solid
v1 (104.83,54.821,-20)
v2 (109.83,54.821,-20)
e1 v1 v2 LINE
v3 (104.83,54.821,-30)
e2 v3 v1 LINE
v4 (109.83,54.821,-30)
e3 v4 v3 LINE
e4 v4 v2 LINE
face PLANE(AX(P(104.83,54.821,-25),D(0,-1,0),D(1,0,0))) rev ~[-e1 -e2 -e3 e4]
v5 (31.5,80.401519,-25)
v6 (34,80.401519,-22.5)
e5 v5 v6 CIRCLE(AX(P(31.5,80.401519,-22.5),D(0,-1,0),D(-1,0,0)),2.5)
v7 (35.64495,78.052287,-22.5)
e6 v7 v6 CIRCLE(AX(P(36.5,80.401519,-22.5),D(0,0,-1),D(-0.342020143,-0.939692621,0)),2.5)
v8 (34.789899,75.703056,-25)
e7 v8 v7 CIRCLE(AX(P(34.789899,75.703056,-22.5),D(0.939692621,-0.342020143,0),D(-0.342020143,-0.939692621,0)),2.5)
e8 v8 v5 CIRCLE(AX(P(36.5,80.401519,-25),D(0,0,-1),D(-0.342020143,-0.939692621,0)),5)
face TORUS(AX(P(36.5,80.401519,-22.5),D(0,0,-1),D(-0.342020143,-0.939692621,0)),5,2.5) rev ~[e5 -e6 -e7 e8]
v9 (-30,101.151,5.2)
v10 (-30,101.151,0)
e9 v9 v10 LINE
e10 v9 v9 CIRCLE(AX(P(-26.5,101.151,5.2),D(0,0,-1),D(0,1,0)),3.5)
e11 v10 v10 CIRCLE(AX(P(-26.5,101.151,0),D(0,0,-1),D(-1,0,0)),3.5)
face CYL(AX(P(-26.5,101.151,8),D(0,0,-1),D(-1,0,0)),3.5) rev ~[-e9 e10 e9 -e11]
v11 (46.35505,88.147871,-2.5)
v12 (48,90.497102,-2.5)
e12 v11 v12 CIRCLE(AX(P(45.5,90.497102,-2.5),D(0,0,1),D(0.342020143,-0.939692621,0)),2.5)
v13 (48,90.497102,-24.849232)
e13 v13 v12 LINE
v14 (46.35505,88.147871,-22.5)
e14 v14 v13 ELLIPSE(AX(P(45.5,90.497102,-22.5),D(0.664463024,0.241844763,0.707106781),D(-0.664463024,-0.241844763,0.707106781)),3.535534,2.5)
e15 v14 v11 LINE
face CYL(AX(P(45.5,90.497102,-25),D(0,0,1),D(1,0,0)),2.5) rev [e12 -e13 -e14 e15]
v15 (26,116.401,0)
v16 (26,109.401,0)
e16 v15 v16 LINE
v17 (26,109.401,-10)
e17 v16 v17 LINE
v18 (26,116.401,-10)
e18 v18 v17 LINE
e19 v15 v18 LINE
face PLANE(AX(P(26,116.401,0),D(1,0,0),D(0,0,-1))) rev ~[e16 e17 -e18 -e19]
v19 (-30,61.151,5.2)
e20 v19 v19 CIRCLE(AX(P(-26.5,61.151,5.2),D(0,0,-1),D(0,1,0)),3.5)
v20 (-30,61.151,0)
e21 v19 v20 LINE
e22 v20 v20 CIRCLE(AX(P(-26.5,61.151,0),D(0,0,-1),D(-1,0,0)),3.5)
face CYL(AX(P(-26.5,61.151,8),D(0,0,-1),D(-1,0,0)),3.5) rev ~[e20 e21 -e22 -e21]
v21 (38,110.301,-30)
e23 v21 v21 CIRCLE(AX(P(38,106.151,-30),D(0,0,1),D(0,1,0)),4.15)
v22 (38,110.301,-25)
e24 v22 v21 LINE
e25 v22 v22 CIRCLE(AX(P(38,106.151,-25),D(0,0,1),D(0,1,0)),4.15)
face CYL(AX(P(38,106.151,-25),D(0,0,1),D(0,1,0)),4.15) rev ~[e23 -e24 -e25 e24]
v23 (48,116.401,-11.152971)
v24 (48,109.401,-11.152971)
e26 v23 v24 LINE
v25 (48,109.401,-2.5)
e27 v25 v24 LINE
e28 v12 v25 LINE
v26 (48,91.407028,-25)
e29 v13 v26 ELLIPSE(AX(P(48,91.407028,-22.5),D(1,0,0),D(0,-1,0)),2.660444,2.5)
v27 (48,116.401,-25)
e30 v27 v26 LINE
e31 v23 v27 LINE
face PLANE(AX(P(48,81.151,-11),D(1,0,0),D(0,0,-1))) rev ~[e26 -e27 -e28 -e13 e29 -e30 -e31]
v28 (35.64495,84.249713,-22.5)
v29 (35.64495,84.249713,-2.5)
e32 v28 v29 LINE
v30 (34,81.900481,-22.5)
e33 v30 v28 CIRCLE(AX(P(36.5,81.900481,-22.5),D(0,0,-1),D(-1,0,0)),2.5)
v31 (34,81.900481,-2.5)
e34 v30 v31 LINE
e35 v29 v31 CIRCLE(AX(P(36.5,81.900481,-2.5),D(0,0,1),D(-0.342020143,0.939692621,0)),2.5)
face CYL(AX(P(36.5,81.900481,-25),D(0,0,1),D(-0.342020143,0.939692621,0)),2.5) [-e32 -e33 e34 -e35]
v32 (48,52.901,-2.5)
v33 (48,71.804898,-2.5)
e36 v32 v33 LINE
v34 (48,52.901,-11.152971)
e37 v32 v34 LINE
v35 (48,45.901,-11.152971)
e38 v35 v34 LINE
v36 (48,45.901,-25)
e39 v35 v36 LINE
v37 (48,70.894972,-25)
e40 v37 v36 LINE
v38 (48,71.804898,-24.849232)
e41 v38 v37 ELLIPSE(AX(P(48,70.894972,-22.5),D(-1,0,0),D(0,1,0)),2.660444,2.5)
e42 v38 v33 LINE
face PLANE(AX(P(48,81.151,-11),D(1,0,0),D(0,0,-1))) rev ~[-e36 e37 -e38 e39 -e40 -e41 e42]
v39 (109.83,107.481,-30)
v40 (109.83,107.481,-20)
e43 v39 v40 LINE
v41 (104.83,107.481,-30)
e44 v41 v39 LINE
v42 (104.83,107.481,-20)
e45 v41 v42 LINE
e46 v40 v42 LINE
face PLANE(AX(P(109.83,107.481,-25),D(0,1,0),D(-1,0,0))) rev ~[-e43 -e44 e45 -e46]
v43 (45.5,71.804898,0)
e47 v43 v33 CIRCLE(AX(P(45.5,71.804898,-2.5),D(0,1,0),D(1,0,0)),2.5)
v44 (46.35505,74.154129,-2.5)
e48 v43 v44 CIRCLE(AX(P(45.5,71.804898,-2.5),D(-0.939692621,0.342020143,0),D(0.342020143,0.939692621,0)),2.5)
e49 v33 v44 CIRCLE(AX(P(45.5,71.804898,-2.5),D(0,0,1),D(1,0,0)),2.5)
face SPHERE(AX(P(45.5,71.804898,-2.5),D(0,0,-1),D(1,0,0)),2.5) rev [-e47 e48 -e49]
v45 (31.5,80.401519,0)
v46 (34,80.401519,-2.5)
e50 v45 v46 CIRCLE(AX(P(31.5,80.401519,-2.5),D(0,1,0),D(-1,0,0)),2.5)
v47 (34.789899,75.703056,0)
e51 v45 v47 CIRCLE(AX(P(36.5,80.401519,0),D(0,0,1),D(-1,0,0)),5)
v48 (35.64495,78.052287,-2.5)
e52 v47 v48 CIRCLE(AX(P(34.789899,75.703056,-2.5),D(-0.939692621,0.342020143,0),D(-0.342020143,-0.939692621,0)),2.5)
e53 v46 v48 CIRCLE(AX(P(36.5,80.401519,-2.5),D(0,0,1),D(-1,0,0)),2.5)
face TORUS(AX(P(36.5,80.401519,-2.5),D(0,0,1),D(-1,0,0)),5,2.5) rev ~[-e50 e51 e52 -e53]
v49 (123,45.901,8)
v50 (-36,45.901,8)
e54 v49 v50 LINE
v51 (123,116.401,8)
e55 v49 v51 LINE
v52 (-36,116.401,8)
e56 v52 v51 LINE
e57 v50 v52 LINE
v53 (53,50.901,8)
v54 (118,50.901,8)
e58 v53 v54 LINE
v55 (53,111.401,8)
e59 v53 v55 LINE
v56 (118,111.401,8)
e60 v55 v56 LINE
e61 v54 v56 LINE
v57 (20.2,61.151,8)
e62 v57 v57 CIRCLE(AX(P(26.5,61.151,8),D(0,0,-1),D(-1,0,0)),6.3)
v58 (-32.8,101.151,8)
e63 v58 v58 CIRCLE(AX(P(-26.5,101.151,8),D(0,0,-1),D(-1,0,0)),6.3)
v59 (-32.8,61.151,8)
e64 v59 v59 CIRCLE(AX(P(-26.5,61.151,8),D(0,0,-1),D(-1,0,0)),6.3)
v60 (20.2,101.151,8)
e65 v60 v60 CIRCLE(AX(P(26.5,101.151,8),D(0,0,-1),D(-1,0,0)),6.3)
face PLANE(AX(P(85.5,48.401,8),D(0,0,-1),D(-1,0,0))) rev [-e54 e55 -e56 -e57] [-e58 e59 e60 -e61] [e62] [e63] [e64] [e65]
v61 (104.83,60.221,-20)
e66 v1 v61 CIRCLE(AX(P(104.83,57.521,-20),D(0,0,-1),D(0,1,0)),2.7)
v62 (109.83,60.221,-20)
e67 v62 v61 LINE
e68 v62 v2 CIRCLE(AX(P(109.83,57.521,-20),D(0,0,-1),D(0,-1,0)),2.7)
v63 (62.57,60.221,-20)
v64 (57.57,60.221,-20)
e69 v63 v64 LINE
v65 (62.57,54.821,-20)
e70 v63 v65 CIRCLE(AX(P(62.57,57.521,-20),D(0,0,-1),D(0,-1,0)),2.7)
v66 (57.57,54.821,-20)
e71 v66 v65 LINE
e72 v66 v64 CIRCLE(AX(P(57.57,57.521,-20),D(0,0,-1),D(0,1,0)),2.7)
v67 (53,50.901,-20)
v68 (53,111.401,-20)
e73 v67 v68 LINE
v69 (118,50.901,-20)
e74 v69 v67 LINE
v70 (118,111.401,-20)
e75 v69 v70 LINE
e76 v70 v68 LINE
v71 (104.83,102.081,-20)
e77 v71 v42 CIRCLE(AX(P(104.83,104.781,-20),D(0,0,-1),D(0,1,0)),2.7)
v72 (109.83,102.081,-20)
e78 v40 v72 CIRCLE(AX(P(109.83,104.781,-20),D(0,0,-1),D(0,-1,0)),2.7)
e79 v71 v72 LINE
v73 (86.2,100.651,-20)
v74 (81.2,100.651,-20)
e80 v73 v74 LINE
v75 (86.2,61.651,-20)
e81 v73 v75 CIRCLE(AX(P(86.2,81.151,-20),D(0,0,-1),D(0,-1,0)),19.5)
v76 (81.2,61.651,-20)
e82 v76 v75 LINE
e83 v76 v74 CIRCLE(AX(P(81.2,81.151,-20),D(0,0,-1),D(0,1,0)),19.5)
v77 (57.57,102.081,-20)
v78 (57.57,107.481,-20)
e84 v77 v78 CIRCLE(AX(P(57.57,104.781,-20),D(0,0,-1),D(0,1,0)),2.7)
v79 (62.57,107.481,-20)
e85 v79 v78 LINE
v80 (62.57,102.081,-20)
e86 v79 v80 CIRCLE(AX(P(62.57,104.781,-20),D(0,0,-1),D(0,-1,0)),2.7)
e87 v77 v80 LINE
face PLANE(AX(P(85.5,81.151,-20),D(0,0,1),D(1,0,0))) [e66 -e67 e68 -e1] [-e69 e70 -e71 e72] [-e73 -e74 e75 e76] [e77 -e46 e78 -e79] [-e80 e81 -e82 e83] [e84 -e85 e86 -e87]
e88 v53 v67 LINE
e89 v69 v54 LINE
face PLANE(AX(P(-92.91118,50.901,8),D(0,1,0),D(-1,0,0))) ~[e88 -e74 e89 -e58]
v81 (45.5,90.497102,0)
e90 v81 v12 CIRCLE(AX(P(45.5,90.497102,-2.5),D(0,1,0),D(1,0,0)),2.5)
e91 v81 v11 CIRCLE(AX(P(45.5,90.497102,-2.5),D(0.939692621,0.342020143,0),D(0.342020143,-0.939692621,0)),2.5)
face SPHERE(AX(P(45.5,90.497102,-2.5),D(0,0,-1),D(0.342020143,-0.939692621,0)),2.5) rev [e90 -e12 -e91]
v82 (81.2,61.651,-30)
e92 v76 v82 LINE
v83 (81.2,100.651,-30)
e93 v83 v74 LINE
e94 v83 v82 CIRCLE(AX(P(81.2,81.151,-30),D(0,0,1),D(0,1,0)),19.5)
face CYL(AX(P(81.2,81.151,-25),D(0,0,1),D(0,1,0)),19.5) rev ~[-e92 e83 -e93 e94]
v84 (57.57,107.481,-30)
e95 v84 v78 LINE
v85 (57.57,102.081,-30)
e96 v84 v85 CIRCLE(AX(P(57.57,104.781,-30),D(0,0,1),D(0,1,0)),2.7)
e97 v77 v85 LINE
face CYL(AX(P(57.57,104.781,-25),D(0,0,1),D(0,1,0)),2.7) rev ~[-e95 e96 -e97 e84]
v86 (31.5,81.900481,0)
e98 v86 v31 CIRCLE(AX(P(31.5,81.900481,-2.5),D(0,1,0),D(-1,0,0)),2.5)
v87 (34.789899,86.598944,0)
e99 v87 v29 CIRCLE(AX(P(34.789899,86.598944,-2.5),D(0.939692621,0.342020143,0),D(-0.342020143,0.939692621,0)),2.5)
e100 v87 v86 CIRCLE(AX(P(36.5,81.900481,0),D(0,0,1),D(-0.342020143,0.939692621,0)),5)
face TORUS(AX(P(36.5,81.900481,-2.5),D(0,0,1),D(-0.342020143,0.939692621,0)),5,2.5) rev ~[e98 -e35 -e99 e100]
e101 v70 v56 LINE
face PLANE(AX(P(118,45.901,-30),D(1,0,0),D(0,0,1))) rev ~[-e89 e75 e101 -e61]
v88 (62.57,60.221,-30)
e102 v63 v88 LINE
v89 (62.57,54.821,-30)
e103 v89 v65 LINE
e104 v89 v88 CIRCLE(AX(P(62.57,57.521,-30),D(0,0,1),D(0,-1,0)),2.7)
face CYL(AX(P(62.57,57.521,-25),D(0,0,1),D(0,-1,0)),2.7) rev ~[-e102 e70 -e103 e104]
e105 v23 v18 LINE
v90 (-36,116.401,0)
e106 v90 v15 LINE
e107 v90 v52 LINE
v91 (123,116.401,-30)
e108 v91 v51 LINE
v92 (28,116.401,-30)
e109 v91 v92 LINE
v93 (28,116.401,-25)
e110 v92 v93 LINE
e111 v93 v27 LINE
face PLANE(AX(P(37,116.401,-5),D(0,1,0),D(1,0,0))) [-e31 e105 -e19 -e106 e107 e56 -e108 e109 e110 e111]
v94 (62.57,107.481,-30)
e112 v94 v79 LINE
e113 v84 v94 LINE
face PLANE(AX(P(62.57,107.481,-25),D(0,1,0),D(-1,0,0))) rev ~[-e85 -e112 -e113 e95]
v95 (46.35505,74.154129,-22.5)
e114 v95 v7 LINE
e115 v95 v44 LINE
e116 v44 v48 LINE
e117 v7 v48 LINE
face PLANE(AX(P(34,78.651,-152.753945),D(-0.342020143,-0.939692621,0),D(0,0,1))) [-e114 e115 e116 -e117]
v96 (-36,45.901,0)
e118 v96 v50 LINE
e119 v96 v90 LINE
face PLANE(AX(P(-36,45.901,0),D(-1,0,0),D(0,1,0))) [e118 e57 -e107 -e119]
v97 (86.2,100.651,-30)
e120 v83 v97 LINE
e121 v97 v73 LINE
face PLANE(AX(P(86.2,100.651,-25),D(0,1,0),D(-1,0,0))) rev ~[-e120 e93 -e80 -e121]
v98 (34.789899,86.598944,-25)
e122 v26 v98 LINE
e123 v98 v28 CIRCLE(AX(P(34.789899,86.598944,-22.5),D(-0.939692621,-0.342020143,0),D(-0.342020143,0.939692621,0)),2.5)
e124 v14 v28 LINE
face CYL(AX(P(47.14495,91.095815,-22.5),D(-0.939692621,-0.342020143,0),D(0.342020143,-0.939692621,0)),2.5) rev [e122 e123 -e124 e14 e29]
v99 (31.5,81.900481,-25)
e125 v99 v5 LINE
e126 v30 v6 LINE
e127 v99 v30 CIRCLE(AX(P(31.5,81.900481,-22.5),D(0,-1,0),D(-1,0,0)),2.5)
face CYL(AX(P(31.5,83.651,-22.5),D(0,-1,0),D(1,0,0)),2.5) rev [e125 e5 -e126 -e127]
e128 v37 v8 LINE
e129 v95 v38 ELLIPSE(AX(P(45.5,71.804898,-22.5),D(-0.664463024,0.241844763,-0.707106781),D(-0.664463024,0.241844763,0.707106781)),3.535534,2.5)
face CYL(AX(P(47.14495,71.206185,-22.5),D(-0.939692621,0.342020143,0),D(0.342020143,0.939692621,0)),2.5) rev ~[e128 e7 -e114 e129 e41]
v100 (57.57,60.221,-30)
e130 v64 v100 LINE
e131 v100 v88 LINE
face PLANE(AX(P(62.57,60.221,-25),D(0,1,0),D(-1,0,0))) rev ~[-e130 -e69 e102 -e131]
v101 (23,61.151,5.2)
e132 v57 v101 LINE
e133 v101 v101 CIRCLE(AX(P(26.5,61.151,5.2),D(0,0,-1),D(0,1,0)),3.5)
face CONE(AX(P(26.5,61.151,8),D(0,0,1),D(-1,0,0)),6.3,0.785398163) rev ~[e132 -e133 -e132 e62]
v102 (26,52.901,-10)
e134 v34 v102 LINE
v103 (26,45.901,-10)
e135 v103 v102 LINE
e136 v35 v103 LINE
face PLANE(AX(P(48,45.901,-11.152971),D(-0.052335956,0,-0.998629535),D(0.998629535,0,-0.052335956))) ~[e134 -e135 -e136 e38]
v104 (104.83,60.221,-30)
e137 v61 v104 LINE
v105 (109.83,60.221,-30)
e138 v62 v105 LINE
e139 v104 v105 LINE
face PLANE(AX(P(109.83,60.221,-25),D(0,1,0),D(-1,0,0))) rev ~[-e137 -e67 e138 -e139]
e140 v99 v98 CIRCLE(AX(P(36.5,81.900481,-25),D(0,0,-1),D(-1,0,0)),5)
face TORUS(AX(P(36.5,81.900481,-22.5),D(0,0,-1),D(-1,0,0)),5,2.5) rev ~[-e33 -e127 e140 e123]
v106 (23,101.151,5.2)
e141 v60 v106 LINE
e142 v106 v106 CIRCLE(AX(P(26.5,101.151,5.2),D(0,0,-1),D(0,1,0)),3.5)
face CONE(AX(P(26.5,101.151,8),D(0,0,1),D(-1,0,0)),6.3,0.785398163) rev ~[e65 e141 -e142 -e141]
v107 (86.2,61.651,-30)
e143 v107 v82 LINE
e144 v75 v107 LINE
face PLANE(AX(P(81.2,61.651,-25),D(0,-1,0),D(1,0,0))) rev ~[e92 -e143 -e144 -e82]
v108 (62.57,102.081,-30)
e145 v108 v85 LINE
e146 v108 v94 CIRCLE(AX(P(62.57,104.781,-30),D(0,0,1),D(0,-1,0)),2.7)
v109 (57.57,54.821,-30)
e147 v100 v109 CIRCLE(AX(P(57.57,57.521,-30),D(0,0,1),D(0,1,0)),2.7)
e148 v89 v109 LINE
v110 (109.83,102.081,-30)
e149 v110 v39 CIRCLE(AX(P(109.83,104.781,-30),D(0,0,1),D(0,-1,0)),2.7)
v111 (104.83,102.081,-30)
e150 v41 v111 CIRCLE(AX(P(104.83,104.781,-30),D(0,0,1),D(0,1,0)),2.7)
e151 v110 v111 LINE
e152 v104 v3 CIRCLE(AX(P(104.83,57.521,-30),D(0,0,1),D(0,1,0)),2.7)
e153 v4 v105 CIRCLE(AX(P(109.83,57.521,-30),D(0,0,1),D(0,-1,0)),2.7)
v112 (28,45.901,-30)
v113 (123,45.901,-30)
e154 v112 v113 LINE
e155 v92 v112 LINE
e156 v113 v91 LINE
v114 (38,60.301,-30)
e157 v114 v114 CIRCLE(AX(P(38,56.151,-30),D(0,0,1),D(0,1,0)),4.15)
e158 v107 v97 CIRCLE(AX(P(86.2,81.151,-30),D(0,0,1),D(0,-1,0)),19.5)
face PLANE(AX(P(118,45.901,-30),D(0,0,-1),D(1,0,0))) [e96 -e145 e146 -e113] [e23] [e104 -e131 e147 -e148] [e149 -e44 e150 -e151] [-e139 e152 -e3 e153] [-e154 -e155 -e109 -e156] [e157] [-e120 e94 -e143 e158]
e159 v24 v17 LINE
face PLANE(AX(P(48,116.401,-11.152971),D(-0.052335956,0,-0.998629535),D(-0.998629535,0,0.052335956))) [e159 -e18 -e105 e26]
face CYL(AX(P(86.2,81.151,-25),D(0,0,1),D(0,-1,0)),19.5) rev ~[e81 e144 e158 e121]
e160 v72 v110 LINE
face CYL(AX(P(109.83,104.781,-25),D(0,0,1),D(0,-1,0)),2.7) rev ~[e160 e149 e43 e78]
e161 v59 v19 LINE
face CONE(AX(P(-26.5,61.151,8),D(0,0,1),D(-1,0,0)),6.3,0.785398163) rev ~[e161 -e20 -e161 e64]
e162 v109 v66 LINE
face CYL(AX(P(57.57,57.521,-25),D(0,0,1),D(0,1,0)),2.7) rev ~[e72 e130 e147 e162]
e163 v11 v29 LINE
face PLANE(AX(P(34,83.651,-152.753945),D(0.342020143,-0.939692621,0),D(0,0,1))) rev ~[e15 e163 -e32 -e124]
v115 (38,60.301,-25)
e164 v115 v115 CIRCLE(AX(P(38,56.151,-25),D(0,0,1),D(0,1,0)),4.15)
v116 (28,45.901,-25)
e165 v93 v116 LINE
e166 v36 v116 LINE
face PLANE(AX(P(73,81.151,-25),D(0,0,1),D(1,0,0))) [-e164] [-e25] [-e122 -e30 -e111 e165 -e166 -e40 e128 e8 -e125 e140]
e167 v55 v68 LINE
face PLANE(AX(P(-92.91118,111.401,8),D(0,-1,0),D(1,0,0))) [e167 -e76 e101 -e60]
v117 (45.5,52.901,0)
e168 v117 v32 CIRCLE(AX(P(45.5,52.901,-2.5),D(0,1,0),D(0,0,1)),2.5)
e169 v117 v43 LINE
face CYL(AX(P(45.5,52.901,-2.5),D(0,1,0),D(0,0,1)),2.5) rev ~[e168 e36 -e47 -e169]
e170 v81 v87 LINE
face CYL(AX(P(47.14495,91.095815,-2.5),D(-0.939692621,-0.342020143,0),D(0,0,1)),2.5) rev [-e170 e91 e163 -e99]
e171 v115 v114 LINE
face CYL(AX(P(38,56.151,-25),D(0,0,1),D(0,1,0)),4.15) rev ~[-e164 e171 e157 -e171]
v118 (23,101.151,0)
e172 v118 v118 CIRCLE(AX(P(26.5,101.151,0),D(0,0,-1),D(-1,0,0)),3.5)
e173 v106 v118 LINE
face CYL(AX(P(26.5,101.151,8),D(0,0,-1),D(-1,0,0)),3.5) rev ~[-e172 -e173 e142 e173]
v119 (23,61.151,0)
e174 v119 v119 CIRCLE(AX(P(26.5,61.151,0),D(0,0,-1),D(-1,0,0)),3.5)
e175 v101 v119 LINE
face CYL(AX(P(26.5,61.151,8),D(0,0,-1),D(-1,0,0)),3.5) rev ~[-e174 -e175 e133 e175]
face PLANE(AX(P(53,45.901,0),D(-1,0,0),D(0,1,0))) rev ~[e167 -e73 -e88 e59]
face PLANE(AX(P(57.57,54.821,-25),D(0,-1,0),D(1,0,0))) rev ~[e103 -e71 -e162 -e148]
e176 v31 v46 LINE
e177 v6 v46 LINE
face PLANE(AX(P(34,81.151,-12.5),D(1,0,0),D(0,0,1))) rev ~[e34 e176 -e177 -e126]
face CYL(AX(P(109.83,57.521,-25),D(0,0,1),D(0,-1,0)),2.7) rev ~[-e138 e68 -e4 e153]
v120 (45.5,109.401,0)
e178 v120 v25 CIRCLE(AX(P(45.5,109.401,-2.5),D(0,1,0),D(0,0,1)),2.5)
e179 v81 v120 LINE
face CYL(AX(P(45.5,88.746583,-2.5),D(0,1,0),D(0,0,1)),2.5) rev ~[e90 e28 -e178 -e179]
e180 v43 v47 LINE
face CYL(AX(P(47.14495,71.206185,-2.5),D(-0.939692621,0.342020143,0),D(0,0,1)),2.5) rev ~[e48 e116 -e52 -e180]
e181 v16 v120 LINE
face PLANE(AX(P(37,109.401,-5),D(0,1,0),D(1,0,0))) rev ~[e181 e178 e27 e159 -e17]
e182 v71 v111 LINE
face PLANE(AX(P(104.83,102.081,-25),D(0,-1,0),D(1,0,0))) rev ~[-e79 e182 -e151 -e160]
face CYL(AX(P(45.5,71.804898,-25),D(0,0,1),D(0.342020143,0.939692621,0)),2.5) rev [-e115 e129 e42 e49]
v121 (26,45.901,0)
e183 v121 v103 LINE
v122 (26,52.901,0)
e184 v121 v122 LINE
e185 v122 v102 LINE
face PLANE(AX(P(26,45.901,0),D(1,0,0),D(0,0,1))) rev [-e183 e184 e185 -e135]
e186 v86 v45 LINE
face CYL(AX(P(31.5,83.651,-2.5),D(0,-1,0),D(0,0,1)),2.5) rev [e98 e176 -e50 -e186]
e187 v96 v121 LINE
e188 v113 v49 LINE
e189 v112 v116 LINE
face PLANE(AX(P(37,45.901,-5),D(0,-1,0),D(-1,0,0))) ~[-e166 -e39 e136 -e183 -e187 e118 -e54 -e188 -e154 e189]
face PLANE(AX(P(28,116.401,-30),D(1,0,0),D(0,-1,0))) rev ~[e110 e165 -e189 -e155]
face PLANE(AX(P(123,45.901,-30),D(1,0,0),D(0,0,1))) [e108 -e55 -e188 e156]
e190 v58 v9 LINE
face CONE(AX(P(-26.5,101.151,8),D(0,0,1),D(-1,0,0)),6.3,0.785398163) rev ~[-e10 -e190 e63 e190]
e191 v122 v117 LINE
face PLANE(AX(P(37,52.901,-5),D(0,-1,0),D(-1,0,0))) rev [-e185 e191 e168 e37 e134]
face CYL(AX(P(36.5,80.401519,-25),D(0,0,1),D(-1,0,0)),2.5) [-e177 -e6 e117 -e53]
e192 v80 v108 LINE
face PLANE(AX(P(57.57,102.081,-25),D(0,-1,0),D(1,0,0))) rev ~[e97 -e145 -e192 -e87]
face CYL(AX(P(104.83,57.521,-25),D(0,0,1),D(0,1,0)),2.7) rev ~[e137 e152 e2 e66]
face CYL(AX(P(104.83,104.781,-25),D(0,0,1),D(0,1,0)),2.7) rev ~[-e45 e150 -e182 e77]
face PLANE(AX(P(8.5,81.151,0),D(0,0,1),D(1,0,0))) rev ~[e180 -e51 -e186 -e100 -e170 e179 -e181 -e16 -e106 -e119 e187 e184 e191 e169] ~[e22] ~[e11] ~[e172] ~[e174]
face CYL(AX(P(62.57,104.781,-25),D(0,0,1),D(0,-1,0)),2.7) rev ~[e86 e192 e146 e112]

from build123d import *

# Parameters (mm, degrees)
SKETCH1_W                                           = 89
SKETCH1_H                                           = 70.5
SKETCH1_R                                           = 2.5
BOSS_EXTRUDE1_DEPTH                                 = 8
SKETCH2_W                                           = 38
SKETCH2_H                                           = 70.5
BOSS_EXTRUDE2_DEPTH                                 = 5
BOSS_EXTRUDE3_DEPTH                                 = 5
SKETCH17_W                                          = 65
SKETCH17_H                                          = 70.5
BOSS_EXTRUDE6_DEPTH                                 = 5
CUT_EXTRUDE1_REACH                                  = 171.004
SKETCH7_R                                           = 4.15
CUT_EXTRUDE1_DIRECTION_2_REACH                      = 171.004
CSK_FOR_M6_COUNTERSUNK_FLAT_HEAD_SCREW1_D           = 7
CSK_FOR_M6_COUNTERSUNK_FLAT_HEAD_SCREW1_DEPTH       = 8
CSK_FOR_M6_COUNTERSUNK_FLAT_HEAD_SCREW1_CSINK_D     = 12.6
CSK_FOR_M6_COUNTERSUNK_FLAT_HEAD_SCREW1_CSINK_ANGLE = 90
CSK_FOR_M6_COUNTERSUNK_FLAT_HEAD_SCREW1_TIP         = 2.103012167
RIB5_REACH                                          = 128.754
SKETCH15_WALL_W                                     = 280.507889424
SKETCH15_WALL_H                                     = 5
RIB5_DRAFT_ANGLE                                    = 20
SKETCH16_W                                          = 5
SKETCH16_H                                          = 38
BOSS_EXTRUDE5_DEPTH                                 = 70.5
RIB1_REACH                                          = 146.911
SKETCH6_WALL_W                                      = 356.822359386
SKETCH6_WALL_H                                      = 5
SKETCH19_W                                          = 22
SKETCH19_H                                          = 10
BOSS_EXTRUDE7_DEPTH                                 = 7
FILLET1_R                                           = 2.5


with BuildPart() as part:
    # Sketch1 → Boss-Extrude1 (new body)
    with BuildSketch(Plane.XY):
        with Locations((8.5, 81.151)):
            Rectangle(SKETCH1_W, SKETCH1_H)
        with Locations((26.5, 61.151)):
            Circle(SKETCH1_R, mode=Mode.SUBTRACT)
        with Locations((-26.5, 61.151)):
            Circle(SKETCH1_R, mode=Mode.SUBTRACT)
        with Locations((-26.5, 101.151)):
            Circle(SKETCH1_R, mode=Mode.SUBTRACT)
        with Locations((26.5, 101.151)):
            Circle(SKETCH1_R, mode=Mode.SUBTRACT)
    extrude(amount=BOSS_EXTRUDE1_DEPTH)

    # Sketch2 → Boss-Extrude2 (add)
    with BuildSketch(Plane(origin=(53, 0, 0), x_dir=(0, 0, -1), z_dir=(1, 0, 0))):
        with Locations((11, 81.151)):
            Rectangle(SKETCH2_W, SKETCH2_H)
    extrude(amount=-BOSS_EXTRUDE2_DEPTH)

    # Sketch3 → Boss-Extrude3 (add)
    with BuildSketch(Plane(origin=(0, 0, -30), x_dir=(-1, 0, 0), z_dir=(0, 0, -1))):
        Polygon((-48, 45.901), (-118, 45.901), (-118, 116.401), (-48, 116.401), (-28, 116.401), (-28, 45.901), align=None)
    extrude(amount=-BOSS_EXTRUDE3_DEPTH)

    # Sketch17 → Boss-Extrude6 (add)
    with BuildSketch(Plane.XY.offset(-25)):
        with Locations((85.5, 81.151)):
            Rectangle(SKETCH17_W, SKETCH17_H)
    extrude(amount=BOSS_EXTRUDE6_DEPTH)

    # Sketch7 → Cut-Extrude1 (cut, up to next)
    with BuildSketch(Plane.XY.offset(-25), mode=Mode.PRIVATE) as cut_extrude1_sk1:
        with BuildLine():
            ThreePointArc((81.2, 100.651), (61.7, 81.151), (81.2, 61.651))
            Line((81.2, 61.651), (86.2, 61.651))
            ThreePointArc((86.2, 61.651), (105.7, 81.151), (86.2, 100.651))
            Line((86.2, 100.651), (81.2, 100.651))
        make_face()
    cut_extrude1_tool1 = extrude(cut_extrude1_sk1.sketch, amount=-CUT_EXTRUDE1_REACH, mode=Mode.PRIVATE) & part.part
    # Sketch7 → Cut-Extrude1 (cut, up to next)
    with BuildSketch(Plane.XY.offset(-25), mode=Mode.PRIVATE) as cut_extrude1_sk2:
        with BuildLine():
            Line((62.57, 107.481), (57.57, 107.481))
            ThreePointArc((57.57, 107.481), (54.87, 104.781), (57.57, 102.081))
            Line((57.57, 102.081), (62.57, 102.081))
            ThreePointArc((62.57, 102.081), (65.27, 104.781), (62.57, 107.481))
        make_face()
    cut_extrude1_tool2 = extrude(cut_extrude1_sk2.sketch, amount=-CUT_EXTRUDE1_REACH, mode=Mode.PRIVATE) & part.part
    # Sketch7 → Cut-Extrude1 (cut, up to next)
    with BuildSketch(Plane.XY.offset(-25), mode=Mode.PRIVATE) as cut_extrude1_sk3:
        with BuildLine():
            ThreePointArc((104.83, 107.481), (102.13, 104.781), (104.83, 102.081))
            Line((104.83, 102.081), (109.83, 102.081))
            ThreePointArc((109.83, 102.081), (112.53, 104.781), (109.83, 107.481))
            Line((109.83, 107.481), (104.83, 107.481))
        make_face()
    cut_extrude1_tool3 = extrude(cut_extrude1_sk3.sketch, amount=-CUT_EXTRUDE1_REACH, mode=Mode.PRIVATE) & part.part
    # Sketch7 → Cut-Extrude1 (cut, up to next)
    with BuildSketch(Plane.XY.offset(-25), mode=Mode.PRIVATE) as cut_extrude1_sk4:
        with BuildLine():
            Line((104.83, 54.821), (109.83, 54.821))
            ThreePointArc((109.83, 54.821), (112.53, 57.521), (109.83, 60.221))
            Line((109.83, 60.221), (104.83, 60.221))
            ThreePointArc((104.83, 60.221), (102.13, 57.521), (104.83, 54.821))
        make_face()
    cut_extrude1_tool4 = extrude(cut_extrude1_sk4.sketch, amount=-CUT_EXTRUDE1_REACH, mode=Mode.PRIVATE) & part.part
    # Sketch7 → Cut-Extrude1 (cut, up to next)
    with BuildSketch(Plane.XY.offset(-25), mode=Mode.PRIVATE) as cut_extrude1_sk5:
        with BuildLine():
            ThreePointArc((62.57, 54.821), (65.27, 57.521), (62.57, 60.221))
            Line((62.57, 60.221), (57.57, 60.221))
            ThreePointArc((57.57, 60.221), (54.87, 57.521), (57.57, 54.821))
            Line((57.57, 54.821), (62.57, 54.821))
        make_face()
    cut_extrude1_tool5 = extrude(cut_extrude1_sk5.sketch, amount=-CUT_EXTRUDE1_REACH, mode=Mode.PRIVATE) & part.part
    # Sketch7 → Cut-Extrude1 (cut, up to next)
    with BuildSketch(Plane.XY.offset(-25), mode=Mode.PRIVATE) as cut_extrude1_sk6:
        with Locations(Location((38, 106.151, 0), (0, 0, 90))):
            Circle(SKETCH7_R)
    cut_extrude1_tool6 = extrude(cut_extrude1_sk6.sketch, amount=-CUT_EXTRUDE1_REACH, mode=Mode.PRIVATE) & part.part
    # Sketch7 → Cut-Extrude1 (cut, up to next)
    with BuildSketch(Plane.XY.offset(-25), mode=Mode.PRIVATE) as cut_extrude1_sk7:
        with Locations(Location((38, 56.151, 0), (0, 0, 90))):
            Circle(SKETCH7_R)
    cut_extrude1_tool7 = extrude(cut_extrude1_sk7.sketch, amount=-CUT_EXTRUDE1_REACH, mode=Mode.PRIVATE) & part.part
    add(cut_extrude1_tool1.solids().sort_by_distance((83.7, 81.151, -25))[0], mode=Mode.SUBTRACT)
    add(cut_extrude1_tool2.solids().sort_by_distance((60.07, 104.781, -25))[0], mode=Mode.SUBTRACT)
    add(cut_extrude1_tool3.solids().sort_by_distance((107.33, 104.781, -25))[0], mode=Mode.SUBTRACT)
    add(cut_extrude1_tool4.solids().sort_by_distance((107.33, 57.521, -25))[0], mode=Mode.SUBTRACT)
    add(cut_extrude1_tool5.solids().sort_by_distance((60.07, 57.521, -25))[0], mode=Mode.SUBTRACT)
    add(cut_extrude1_tool6.solids().sort_by_distance((38, 106.151, -25))[0], mode=Mode.SUBTRACT)
    add(cut_extrude1_tool7.solids().sort_by_distance((38, 56.151, -25))[0], mode=Mode.SUBTRACT)

    # Cut-Extrude1 direction 2: up to this face of the body (flat: up to its plane)
    cut_extrude1_direction_2_end = Plane(part.part.faces().sort_by_distance((85.5, 81.151, -20))[0])
    # Sketch7 → Cut-Extrude1 direction 2 (cut, up to the picked face)
    with BuildSketch(Plane.XY.offset(-25), mode=Mode.PRIVATE) as cut_extrude1_direction_2_sk1:
        with BuildLine():
            ThreePointArc((81.2, 100.651), (61.7, 81.151), (81.2, 61.651))
            Line((81.2, 61.651), (86.2, 61.651))
            ThreePointArc((86.2, 61.651), (105.7, 81.151), (86.2, 100.651))
            Line((86.2, 100.651), (81.2, 100.651))
        make_face()
    cut_extrude1_direction_2_tool1 = split(extrude(cut_extrude1_direction_2_sk1.sketch, amount=CUT_EXTRUDE1_DIRECTION_2_REACH, mode=Mode.PRIVATE), bisect_by=cut_extrude1_direction_2_end, keep=Keep.BOTH, mode=Mode.PRIVATE)
    # Sketch7 → Cut-Extrude1 direction 2 (cut, up to the picked face)
    with BuildSketch(Plane.XY.offset(-25), mode=Mode.PRIVATE) as cut_extrude1_direction_2_sk2:
        with BuildLine():
            Line((62.57, 107.481), (57.57, 107.481))
            ThreePointArc((57.57, 107.481), (54.87, 104.781), (57.57, 102.081))
            Line((57.57, 102.081), (62.57, 102.081))
            ThreePointArc((62.57, 102.081), (65.27, 104.781), (62.57, 107.481))
        make_face()
    cut_extrude1_direction_2_tool2 = split(extrude(cut_extrude1_direction_2_sk2.sketch, amount=CUT_EXTRUDE1_DIRECTION_2_REACH, mode=Mode.PRIVATE), bisect_by=cut_extrude1_direction_2_end, keep=Keep.BOTH, mode=Mode.PRIVATE)
    # Sketch7 → Cut-Extrude1 direction 2 (cut, up to the picked face)
    with BuildSketch(Plane.XY.offset(-25), mode=Mode.PRIVATE) as cut_extrude1_direction_2_sk3:
        with BuildLine():
            ThreePointArc((104.83, 107.481), (102.13, 104.781), (104.83, 102.081))
            Line((104.83, 102.081), (109.83, 102.081))
            ThreePointArc((109.83, 102.081), (112.53, 104.781), (109.83, 107.481))
            Line((109.83, 107.481), (104.83, 107.481))
        make_face()
    cut_extrude1_direction_2_tool3 = split(extrude(cut_extrude1_direction_2_sk3.sketch, amount=CUT_EXTRUDE1_DIRECTION_2_REACH, mode=Mode.PRIVATE), bisect_by=cut_extrude1_direction_2_end, keep=Keep.BOTH, mode=Mode.PRIVATE)
    # Sketch7 → Cut-Extrude1 direction 2 (cut, up to the picked face)
    with BuildSketch(Plane.XY.offset(-25), mode=Mode.PRIVATE) as cut_extrude1_direction_2_sk4:
        with BuildLine():
            Line((104.83, 54.821), (109.83, 54.821))
            ThreePointArc((109.83, 54.821), (112.53, 57.521), (109.83, 60.221))
            Line((109.83, 60.221), (104.83, 60.221))
            ThreePointArc((104.83, 60.221), (102.13, 57.521), (104.83, 54.821))
        make_face()
    cut_extrude1_direction_2_tool4 = split(extrude(cut_extrude1_direction_2_sk4.sketch, amount=CUT_EXTRUDE1_DIRECTION_2_REACH, mode=Mode.PRIVATE), bisect_by=cut_extrude1_direction_2_end, keep=Keep.BOTH, mode=Mode.PRIVATE)
    # Sketch7 → Cut-Extrude1 direction 2 (cut, up to the picked face)
    with BuildSketch(Plane.XY.offset(-25), mode=Mode.PRIVATE) as cut_extrude1_direction_2_sk5:
        with BuildLine():
            ThreePointArc((62.57, 54.821), (65.27, 57.521), (62.57, 60.221))
            Line((62.57, 60.221), (57.57, 60.221))
            ThreePointArc((57.57, 60.221), (54.87, 57.521), (57.57, 54.821))
            Line((57.57, 54.821), (62.57, 54.821))
        make_face()
    cut_extrude1_direction_2_tool5 = split(extrude(cut_extrude1_direction_2_sk5.sketch, amount=CUT_EXTRUDE1_DIRECTION_2_REACH, mode=Mode.PRIVATE), bisect_by=cut_extrude1_direction_2_end, keep=Keep.BOTH, mode=Mode.PRIVATE)
    # Sketch7 → Cut-Extrude1 direction 2 (cut, up to the picked face)
    with BuildSketch(Plane.XY.offset(-25), mode=Mode.PRIVATE) as cut_extrude1_direction_2_sk6:
        with Locations(Location((38, 106.151, 0), (0, 0, 90))):
            Circle(SKETCH7_R)
    cut_extrude1_direction_2_tool6 = split(extrude(cut_extrude1_direction_2_sk6.sketch, amount=CUT_EXTRUDE1_DIRECTION_2_REACH, mode=Mode.PRIVATE), bisect_by=cut_extrude1_direction_2_end, keep=Keep.BOTH, mode=Mode.PRIVATE)
    # Sketch7 → Cut-Extrude1 direction 2 (cut, up to the picked face)
    with BuildSketch(Plane.XY.offset(-25), mode=Mode.PRIVATE) as cut_extrude1_direction_2_sk7:
        with Locations(Location((38, 56.151, 0), (0, 0, 90))):
            Circle(SKETCH7_R)
    cut_extrude1_direction_2_tool7 = split(extrude(cut_extrude1_direction_2_sk7.sketch, amount=CUT_EXTRUDE1_DIRECTION_2_REACH, mode=Mode.PRIVATE), bisect_by=cut_extrude1_direction_2_end, keep=Keep.BOTH, mode=Mode.PRIVATE)
    add(cut_extrude1_direction_2_tool1.solids().sort_by(Axis((83.7, 81.151, -25), (0, 0, 1)))[0], mode=Mode.SUBTRACT)
    add(cut_extrude1_direction_2_tool2.solids().sort_by(Axis((60.07, 104.781, -25), (0, 0, 1)))[0], mode=Mode.SUBTRACT)
    add(cut_extrude1_direction_2_tool3.solids().sort_by(Axis((107.33, 104.781, -25), (0, 0, 1)))[0], mode=Mode.SUBTRACT)
    add(cut_extrude1_direction_2_tool4.solids().sort_by(Axis((107.33, 57.521, -25), (0, 0, 1)))[0], mode=Mode.SUBTRACT)
    add(cut_extrude1_direction_2_tool5.solids().sort_by(Axis((60.07, 57.521, -25), (0, 0, 1)))[0], mode=Mode.SUBTRACT)
    add(cut_extrude1_direction_2_tool6.solids().sort_by(Axis((38, 106.151, -25), (0, 0, 1)))[0], mode=Mode.SUBTRACT)
    add(cut_extrude1_direction_2_tool7.solids().sort_by(Axis((38, 56.151, -25), (0, 0, 1)))[0], mode=Mode.SUBTRACT)

    # CSK for M6 Countersunk Flat Head Screw1
    with Locations(Plane.XY.offset(8)):
        with Locations((-26.5, 101.151), (-26.5, 61.151), (26.5, 61.151), (26.5, 101.151)):
            CounterSinkHole(CSK_FOR_M6_COUNTERSUNK_FLAT_HEAD_SCREW1_D / 2, CSK_FOR_M6_COUNTERSUNK_FLAT_HEAD_SCREW1_CSINK_D / 2, depth=CSK_FOR_M6_COUNTERSUNK_FLAT_HEAD_SCREW1_DEPTH, counter_sink_angle=CSK_FOR_M6_COUNTERSUNK_FLAT_HEAD_SCREW1_CSINK_ANGLE)
            with Locations((0, 0, -(CSK_FOR_M6_COUNTERSUNK_FLAT_HEAD_SCREW1_DEPTH + CSK_FOR_M6_COUNTERSUNK_FLAT_HEAD_SCREW1_TIP / 2))):  # 118° drill point
                Cone(0, CSK_FOR_M6_COUNTERSUNK_FLAT_HEAD_SCREW1_D / 2, CSK_FOR_M6_COUNTERSUNK_FLAT_HEAD_SCREW1_TIP, mode=Mode.SUBTRACT)

    # Sketch15 wall → Rib5 (add, up to next)
    with BuildSketch(Plane(origin=(34, 81.151, -12.5), x_dir=(0, 0, 1), z_dir=(1, 0, 0)), mode=Mode.PRIVATE) as rib5_sk1:
        Rectangle(SKETCH15_WALL_W, SKETCH15_WALL_H)
    rib5_tool1 = extrude(rib5_sk1.sketch, amount=RIB5_REACH, mode=Mode.PRIVATE) - part.part
    add(rib5_tool1.solids().sort_by_distance((34, 81.151, -12.5))[0])

    # Rib5 draft
    rib5_draft_faces = [part.faces().sort_by_distance(p)[0] for p in [
        (34.5, 78.651, -12.5),
        (34.5, 83.651, -12.5),
    ]]
    draft(rib5_draft_faces, Plane(origin=(34, 81.151, -12.5), x_dir=(0, 0, 1), z_dir=(-1, 0, 0)), RIB5_DRAFT_ANGLE)

    # Sketch16 → Boss-Extrude5 (add)
    with BuildSketch(Plane.XZ.offset(-45.901)):
        with Locations((120.5, -11)):
            Rectangle(SKETCH16_W, SKETCH16_H)
    extrude(amount=-BOSS_EXTRUDE5_DEPTH)

    # Sketch6 wall → Rib1 (add, up to next)
    with BuildSketch(Plane(origin=(85.5, 116.401, 8), x_dir=(1, 0, 0), z_dir=(0, 0, -1)), mode=Mode.PRIVATE) as rib1_sk1:
        with Locations((0, 2.5)):
            Rectangle(SKETCH6_WALL_W, SKETCH6_WALL_H)
    rib1_tool1 = extrude(rib1_sk1.sketch, amount=RIB1_REACH, mode=Mode.PRIVATE) - part.part
    rib1 = rib1_tool1.solids().sort_by_distance((85.5, 116.401, 8))[0]
    add(rib1)

    # Sketch19 → Boss-Extrude7 (add)
    with BuildSketch(Plane(origin=(0, 116.401, 0), x_dir=(1, 0, 0), z_dir=(0, 1, 0))):
        with Locations((37, 5)):
            Rectangle(SKETCH19_W, SKETCH19_H)
        Polygon((26, 10), (48, 10), (48, 11.152971144), align=None)
    boss_extrude7 = extrude(amount=-BOSS_EXTRUDE7_DEPTH)

    # Mirror5: Rib1 across plane
    add(rib1.mirror(Plane.ZX.offset(81.151)))

    # Mirror6: Boss-Extrude7 across plane
    add(boss_extrude7.mirror(Plane.ZX.offset(81.151)))

    # Fillet1
    fillet1_edges = [part.edges().sort_by_distance(p)[0] for p in [
        (48, 63.22820836, 0),
        (34, 81.151, -25),
        (34, 78.651, -12.5),
        (34, 81.151, 0),
        (41, 86.19879164, -25),
        (48, 88.74658328, -12.5),
        (41, 76.10320836, 0),
        (34, 83.651, -12.5),
        (41, 86.19879164, 0),
        (41, 76.10320836, -25),
        (48, 73.55541672, -12.5),
        (48, 99.07379164, 0),
    ]]
    fillet(fillet1_edges, radius=FILLET1_R)


solid = part.part
